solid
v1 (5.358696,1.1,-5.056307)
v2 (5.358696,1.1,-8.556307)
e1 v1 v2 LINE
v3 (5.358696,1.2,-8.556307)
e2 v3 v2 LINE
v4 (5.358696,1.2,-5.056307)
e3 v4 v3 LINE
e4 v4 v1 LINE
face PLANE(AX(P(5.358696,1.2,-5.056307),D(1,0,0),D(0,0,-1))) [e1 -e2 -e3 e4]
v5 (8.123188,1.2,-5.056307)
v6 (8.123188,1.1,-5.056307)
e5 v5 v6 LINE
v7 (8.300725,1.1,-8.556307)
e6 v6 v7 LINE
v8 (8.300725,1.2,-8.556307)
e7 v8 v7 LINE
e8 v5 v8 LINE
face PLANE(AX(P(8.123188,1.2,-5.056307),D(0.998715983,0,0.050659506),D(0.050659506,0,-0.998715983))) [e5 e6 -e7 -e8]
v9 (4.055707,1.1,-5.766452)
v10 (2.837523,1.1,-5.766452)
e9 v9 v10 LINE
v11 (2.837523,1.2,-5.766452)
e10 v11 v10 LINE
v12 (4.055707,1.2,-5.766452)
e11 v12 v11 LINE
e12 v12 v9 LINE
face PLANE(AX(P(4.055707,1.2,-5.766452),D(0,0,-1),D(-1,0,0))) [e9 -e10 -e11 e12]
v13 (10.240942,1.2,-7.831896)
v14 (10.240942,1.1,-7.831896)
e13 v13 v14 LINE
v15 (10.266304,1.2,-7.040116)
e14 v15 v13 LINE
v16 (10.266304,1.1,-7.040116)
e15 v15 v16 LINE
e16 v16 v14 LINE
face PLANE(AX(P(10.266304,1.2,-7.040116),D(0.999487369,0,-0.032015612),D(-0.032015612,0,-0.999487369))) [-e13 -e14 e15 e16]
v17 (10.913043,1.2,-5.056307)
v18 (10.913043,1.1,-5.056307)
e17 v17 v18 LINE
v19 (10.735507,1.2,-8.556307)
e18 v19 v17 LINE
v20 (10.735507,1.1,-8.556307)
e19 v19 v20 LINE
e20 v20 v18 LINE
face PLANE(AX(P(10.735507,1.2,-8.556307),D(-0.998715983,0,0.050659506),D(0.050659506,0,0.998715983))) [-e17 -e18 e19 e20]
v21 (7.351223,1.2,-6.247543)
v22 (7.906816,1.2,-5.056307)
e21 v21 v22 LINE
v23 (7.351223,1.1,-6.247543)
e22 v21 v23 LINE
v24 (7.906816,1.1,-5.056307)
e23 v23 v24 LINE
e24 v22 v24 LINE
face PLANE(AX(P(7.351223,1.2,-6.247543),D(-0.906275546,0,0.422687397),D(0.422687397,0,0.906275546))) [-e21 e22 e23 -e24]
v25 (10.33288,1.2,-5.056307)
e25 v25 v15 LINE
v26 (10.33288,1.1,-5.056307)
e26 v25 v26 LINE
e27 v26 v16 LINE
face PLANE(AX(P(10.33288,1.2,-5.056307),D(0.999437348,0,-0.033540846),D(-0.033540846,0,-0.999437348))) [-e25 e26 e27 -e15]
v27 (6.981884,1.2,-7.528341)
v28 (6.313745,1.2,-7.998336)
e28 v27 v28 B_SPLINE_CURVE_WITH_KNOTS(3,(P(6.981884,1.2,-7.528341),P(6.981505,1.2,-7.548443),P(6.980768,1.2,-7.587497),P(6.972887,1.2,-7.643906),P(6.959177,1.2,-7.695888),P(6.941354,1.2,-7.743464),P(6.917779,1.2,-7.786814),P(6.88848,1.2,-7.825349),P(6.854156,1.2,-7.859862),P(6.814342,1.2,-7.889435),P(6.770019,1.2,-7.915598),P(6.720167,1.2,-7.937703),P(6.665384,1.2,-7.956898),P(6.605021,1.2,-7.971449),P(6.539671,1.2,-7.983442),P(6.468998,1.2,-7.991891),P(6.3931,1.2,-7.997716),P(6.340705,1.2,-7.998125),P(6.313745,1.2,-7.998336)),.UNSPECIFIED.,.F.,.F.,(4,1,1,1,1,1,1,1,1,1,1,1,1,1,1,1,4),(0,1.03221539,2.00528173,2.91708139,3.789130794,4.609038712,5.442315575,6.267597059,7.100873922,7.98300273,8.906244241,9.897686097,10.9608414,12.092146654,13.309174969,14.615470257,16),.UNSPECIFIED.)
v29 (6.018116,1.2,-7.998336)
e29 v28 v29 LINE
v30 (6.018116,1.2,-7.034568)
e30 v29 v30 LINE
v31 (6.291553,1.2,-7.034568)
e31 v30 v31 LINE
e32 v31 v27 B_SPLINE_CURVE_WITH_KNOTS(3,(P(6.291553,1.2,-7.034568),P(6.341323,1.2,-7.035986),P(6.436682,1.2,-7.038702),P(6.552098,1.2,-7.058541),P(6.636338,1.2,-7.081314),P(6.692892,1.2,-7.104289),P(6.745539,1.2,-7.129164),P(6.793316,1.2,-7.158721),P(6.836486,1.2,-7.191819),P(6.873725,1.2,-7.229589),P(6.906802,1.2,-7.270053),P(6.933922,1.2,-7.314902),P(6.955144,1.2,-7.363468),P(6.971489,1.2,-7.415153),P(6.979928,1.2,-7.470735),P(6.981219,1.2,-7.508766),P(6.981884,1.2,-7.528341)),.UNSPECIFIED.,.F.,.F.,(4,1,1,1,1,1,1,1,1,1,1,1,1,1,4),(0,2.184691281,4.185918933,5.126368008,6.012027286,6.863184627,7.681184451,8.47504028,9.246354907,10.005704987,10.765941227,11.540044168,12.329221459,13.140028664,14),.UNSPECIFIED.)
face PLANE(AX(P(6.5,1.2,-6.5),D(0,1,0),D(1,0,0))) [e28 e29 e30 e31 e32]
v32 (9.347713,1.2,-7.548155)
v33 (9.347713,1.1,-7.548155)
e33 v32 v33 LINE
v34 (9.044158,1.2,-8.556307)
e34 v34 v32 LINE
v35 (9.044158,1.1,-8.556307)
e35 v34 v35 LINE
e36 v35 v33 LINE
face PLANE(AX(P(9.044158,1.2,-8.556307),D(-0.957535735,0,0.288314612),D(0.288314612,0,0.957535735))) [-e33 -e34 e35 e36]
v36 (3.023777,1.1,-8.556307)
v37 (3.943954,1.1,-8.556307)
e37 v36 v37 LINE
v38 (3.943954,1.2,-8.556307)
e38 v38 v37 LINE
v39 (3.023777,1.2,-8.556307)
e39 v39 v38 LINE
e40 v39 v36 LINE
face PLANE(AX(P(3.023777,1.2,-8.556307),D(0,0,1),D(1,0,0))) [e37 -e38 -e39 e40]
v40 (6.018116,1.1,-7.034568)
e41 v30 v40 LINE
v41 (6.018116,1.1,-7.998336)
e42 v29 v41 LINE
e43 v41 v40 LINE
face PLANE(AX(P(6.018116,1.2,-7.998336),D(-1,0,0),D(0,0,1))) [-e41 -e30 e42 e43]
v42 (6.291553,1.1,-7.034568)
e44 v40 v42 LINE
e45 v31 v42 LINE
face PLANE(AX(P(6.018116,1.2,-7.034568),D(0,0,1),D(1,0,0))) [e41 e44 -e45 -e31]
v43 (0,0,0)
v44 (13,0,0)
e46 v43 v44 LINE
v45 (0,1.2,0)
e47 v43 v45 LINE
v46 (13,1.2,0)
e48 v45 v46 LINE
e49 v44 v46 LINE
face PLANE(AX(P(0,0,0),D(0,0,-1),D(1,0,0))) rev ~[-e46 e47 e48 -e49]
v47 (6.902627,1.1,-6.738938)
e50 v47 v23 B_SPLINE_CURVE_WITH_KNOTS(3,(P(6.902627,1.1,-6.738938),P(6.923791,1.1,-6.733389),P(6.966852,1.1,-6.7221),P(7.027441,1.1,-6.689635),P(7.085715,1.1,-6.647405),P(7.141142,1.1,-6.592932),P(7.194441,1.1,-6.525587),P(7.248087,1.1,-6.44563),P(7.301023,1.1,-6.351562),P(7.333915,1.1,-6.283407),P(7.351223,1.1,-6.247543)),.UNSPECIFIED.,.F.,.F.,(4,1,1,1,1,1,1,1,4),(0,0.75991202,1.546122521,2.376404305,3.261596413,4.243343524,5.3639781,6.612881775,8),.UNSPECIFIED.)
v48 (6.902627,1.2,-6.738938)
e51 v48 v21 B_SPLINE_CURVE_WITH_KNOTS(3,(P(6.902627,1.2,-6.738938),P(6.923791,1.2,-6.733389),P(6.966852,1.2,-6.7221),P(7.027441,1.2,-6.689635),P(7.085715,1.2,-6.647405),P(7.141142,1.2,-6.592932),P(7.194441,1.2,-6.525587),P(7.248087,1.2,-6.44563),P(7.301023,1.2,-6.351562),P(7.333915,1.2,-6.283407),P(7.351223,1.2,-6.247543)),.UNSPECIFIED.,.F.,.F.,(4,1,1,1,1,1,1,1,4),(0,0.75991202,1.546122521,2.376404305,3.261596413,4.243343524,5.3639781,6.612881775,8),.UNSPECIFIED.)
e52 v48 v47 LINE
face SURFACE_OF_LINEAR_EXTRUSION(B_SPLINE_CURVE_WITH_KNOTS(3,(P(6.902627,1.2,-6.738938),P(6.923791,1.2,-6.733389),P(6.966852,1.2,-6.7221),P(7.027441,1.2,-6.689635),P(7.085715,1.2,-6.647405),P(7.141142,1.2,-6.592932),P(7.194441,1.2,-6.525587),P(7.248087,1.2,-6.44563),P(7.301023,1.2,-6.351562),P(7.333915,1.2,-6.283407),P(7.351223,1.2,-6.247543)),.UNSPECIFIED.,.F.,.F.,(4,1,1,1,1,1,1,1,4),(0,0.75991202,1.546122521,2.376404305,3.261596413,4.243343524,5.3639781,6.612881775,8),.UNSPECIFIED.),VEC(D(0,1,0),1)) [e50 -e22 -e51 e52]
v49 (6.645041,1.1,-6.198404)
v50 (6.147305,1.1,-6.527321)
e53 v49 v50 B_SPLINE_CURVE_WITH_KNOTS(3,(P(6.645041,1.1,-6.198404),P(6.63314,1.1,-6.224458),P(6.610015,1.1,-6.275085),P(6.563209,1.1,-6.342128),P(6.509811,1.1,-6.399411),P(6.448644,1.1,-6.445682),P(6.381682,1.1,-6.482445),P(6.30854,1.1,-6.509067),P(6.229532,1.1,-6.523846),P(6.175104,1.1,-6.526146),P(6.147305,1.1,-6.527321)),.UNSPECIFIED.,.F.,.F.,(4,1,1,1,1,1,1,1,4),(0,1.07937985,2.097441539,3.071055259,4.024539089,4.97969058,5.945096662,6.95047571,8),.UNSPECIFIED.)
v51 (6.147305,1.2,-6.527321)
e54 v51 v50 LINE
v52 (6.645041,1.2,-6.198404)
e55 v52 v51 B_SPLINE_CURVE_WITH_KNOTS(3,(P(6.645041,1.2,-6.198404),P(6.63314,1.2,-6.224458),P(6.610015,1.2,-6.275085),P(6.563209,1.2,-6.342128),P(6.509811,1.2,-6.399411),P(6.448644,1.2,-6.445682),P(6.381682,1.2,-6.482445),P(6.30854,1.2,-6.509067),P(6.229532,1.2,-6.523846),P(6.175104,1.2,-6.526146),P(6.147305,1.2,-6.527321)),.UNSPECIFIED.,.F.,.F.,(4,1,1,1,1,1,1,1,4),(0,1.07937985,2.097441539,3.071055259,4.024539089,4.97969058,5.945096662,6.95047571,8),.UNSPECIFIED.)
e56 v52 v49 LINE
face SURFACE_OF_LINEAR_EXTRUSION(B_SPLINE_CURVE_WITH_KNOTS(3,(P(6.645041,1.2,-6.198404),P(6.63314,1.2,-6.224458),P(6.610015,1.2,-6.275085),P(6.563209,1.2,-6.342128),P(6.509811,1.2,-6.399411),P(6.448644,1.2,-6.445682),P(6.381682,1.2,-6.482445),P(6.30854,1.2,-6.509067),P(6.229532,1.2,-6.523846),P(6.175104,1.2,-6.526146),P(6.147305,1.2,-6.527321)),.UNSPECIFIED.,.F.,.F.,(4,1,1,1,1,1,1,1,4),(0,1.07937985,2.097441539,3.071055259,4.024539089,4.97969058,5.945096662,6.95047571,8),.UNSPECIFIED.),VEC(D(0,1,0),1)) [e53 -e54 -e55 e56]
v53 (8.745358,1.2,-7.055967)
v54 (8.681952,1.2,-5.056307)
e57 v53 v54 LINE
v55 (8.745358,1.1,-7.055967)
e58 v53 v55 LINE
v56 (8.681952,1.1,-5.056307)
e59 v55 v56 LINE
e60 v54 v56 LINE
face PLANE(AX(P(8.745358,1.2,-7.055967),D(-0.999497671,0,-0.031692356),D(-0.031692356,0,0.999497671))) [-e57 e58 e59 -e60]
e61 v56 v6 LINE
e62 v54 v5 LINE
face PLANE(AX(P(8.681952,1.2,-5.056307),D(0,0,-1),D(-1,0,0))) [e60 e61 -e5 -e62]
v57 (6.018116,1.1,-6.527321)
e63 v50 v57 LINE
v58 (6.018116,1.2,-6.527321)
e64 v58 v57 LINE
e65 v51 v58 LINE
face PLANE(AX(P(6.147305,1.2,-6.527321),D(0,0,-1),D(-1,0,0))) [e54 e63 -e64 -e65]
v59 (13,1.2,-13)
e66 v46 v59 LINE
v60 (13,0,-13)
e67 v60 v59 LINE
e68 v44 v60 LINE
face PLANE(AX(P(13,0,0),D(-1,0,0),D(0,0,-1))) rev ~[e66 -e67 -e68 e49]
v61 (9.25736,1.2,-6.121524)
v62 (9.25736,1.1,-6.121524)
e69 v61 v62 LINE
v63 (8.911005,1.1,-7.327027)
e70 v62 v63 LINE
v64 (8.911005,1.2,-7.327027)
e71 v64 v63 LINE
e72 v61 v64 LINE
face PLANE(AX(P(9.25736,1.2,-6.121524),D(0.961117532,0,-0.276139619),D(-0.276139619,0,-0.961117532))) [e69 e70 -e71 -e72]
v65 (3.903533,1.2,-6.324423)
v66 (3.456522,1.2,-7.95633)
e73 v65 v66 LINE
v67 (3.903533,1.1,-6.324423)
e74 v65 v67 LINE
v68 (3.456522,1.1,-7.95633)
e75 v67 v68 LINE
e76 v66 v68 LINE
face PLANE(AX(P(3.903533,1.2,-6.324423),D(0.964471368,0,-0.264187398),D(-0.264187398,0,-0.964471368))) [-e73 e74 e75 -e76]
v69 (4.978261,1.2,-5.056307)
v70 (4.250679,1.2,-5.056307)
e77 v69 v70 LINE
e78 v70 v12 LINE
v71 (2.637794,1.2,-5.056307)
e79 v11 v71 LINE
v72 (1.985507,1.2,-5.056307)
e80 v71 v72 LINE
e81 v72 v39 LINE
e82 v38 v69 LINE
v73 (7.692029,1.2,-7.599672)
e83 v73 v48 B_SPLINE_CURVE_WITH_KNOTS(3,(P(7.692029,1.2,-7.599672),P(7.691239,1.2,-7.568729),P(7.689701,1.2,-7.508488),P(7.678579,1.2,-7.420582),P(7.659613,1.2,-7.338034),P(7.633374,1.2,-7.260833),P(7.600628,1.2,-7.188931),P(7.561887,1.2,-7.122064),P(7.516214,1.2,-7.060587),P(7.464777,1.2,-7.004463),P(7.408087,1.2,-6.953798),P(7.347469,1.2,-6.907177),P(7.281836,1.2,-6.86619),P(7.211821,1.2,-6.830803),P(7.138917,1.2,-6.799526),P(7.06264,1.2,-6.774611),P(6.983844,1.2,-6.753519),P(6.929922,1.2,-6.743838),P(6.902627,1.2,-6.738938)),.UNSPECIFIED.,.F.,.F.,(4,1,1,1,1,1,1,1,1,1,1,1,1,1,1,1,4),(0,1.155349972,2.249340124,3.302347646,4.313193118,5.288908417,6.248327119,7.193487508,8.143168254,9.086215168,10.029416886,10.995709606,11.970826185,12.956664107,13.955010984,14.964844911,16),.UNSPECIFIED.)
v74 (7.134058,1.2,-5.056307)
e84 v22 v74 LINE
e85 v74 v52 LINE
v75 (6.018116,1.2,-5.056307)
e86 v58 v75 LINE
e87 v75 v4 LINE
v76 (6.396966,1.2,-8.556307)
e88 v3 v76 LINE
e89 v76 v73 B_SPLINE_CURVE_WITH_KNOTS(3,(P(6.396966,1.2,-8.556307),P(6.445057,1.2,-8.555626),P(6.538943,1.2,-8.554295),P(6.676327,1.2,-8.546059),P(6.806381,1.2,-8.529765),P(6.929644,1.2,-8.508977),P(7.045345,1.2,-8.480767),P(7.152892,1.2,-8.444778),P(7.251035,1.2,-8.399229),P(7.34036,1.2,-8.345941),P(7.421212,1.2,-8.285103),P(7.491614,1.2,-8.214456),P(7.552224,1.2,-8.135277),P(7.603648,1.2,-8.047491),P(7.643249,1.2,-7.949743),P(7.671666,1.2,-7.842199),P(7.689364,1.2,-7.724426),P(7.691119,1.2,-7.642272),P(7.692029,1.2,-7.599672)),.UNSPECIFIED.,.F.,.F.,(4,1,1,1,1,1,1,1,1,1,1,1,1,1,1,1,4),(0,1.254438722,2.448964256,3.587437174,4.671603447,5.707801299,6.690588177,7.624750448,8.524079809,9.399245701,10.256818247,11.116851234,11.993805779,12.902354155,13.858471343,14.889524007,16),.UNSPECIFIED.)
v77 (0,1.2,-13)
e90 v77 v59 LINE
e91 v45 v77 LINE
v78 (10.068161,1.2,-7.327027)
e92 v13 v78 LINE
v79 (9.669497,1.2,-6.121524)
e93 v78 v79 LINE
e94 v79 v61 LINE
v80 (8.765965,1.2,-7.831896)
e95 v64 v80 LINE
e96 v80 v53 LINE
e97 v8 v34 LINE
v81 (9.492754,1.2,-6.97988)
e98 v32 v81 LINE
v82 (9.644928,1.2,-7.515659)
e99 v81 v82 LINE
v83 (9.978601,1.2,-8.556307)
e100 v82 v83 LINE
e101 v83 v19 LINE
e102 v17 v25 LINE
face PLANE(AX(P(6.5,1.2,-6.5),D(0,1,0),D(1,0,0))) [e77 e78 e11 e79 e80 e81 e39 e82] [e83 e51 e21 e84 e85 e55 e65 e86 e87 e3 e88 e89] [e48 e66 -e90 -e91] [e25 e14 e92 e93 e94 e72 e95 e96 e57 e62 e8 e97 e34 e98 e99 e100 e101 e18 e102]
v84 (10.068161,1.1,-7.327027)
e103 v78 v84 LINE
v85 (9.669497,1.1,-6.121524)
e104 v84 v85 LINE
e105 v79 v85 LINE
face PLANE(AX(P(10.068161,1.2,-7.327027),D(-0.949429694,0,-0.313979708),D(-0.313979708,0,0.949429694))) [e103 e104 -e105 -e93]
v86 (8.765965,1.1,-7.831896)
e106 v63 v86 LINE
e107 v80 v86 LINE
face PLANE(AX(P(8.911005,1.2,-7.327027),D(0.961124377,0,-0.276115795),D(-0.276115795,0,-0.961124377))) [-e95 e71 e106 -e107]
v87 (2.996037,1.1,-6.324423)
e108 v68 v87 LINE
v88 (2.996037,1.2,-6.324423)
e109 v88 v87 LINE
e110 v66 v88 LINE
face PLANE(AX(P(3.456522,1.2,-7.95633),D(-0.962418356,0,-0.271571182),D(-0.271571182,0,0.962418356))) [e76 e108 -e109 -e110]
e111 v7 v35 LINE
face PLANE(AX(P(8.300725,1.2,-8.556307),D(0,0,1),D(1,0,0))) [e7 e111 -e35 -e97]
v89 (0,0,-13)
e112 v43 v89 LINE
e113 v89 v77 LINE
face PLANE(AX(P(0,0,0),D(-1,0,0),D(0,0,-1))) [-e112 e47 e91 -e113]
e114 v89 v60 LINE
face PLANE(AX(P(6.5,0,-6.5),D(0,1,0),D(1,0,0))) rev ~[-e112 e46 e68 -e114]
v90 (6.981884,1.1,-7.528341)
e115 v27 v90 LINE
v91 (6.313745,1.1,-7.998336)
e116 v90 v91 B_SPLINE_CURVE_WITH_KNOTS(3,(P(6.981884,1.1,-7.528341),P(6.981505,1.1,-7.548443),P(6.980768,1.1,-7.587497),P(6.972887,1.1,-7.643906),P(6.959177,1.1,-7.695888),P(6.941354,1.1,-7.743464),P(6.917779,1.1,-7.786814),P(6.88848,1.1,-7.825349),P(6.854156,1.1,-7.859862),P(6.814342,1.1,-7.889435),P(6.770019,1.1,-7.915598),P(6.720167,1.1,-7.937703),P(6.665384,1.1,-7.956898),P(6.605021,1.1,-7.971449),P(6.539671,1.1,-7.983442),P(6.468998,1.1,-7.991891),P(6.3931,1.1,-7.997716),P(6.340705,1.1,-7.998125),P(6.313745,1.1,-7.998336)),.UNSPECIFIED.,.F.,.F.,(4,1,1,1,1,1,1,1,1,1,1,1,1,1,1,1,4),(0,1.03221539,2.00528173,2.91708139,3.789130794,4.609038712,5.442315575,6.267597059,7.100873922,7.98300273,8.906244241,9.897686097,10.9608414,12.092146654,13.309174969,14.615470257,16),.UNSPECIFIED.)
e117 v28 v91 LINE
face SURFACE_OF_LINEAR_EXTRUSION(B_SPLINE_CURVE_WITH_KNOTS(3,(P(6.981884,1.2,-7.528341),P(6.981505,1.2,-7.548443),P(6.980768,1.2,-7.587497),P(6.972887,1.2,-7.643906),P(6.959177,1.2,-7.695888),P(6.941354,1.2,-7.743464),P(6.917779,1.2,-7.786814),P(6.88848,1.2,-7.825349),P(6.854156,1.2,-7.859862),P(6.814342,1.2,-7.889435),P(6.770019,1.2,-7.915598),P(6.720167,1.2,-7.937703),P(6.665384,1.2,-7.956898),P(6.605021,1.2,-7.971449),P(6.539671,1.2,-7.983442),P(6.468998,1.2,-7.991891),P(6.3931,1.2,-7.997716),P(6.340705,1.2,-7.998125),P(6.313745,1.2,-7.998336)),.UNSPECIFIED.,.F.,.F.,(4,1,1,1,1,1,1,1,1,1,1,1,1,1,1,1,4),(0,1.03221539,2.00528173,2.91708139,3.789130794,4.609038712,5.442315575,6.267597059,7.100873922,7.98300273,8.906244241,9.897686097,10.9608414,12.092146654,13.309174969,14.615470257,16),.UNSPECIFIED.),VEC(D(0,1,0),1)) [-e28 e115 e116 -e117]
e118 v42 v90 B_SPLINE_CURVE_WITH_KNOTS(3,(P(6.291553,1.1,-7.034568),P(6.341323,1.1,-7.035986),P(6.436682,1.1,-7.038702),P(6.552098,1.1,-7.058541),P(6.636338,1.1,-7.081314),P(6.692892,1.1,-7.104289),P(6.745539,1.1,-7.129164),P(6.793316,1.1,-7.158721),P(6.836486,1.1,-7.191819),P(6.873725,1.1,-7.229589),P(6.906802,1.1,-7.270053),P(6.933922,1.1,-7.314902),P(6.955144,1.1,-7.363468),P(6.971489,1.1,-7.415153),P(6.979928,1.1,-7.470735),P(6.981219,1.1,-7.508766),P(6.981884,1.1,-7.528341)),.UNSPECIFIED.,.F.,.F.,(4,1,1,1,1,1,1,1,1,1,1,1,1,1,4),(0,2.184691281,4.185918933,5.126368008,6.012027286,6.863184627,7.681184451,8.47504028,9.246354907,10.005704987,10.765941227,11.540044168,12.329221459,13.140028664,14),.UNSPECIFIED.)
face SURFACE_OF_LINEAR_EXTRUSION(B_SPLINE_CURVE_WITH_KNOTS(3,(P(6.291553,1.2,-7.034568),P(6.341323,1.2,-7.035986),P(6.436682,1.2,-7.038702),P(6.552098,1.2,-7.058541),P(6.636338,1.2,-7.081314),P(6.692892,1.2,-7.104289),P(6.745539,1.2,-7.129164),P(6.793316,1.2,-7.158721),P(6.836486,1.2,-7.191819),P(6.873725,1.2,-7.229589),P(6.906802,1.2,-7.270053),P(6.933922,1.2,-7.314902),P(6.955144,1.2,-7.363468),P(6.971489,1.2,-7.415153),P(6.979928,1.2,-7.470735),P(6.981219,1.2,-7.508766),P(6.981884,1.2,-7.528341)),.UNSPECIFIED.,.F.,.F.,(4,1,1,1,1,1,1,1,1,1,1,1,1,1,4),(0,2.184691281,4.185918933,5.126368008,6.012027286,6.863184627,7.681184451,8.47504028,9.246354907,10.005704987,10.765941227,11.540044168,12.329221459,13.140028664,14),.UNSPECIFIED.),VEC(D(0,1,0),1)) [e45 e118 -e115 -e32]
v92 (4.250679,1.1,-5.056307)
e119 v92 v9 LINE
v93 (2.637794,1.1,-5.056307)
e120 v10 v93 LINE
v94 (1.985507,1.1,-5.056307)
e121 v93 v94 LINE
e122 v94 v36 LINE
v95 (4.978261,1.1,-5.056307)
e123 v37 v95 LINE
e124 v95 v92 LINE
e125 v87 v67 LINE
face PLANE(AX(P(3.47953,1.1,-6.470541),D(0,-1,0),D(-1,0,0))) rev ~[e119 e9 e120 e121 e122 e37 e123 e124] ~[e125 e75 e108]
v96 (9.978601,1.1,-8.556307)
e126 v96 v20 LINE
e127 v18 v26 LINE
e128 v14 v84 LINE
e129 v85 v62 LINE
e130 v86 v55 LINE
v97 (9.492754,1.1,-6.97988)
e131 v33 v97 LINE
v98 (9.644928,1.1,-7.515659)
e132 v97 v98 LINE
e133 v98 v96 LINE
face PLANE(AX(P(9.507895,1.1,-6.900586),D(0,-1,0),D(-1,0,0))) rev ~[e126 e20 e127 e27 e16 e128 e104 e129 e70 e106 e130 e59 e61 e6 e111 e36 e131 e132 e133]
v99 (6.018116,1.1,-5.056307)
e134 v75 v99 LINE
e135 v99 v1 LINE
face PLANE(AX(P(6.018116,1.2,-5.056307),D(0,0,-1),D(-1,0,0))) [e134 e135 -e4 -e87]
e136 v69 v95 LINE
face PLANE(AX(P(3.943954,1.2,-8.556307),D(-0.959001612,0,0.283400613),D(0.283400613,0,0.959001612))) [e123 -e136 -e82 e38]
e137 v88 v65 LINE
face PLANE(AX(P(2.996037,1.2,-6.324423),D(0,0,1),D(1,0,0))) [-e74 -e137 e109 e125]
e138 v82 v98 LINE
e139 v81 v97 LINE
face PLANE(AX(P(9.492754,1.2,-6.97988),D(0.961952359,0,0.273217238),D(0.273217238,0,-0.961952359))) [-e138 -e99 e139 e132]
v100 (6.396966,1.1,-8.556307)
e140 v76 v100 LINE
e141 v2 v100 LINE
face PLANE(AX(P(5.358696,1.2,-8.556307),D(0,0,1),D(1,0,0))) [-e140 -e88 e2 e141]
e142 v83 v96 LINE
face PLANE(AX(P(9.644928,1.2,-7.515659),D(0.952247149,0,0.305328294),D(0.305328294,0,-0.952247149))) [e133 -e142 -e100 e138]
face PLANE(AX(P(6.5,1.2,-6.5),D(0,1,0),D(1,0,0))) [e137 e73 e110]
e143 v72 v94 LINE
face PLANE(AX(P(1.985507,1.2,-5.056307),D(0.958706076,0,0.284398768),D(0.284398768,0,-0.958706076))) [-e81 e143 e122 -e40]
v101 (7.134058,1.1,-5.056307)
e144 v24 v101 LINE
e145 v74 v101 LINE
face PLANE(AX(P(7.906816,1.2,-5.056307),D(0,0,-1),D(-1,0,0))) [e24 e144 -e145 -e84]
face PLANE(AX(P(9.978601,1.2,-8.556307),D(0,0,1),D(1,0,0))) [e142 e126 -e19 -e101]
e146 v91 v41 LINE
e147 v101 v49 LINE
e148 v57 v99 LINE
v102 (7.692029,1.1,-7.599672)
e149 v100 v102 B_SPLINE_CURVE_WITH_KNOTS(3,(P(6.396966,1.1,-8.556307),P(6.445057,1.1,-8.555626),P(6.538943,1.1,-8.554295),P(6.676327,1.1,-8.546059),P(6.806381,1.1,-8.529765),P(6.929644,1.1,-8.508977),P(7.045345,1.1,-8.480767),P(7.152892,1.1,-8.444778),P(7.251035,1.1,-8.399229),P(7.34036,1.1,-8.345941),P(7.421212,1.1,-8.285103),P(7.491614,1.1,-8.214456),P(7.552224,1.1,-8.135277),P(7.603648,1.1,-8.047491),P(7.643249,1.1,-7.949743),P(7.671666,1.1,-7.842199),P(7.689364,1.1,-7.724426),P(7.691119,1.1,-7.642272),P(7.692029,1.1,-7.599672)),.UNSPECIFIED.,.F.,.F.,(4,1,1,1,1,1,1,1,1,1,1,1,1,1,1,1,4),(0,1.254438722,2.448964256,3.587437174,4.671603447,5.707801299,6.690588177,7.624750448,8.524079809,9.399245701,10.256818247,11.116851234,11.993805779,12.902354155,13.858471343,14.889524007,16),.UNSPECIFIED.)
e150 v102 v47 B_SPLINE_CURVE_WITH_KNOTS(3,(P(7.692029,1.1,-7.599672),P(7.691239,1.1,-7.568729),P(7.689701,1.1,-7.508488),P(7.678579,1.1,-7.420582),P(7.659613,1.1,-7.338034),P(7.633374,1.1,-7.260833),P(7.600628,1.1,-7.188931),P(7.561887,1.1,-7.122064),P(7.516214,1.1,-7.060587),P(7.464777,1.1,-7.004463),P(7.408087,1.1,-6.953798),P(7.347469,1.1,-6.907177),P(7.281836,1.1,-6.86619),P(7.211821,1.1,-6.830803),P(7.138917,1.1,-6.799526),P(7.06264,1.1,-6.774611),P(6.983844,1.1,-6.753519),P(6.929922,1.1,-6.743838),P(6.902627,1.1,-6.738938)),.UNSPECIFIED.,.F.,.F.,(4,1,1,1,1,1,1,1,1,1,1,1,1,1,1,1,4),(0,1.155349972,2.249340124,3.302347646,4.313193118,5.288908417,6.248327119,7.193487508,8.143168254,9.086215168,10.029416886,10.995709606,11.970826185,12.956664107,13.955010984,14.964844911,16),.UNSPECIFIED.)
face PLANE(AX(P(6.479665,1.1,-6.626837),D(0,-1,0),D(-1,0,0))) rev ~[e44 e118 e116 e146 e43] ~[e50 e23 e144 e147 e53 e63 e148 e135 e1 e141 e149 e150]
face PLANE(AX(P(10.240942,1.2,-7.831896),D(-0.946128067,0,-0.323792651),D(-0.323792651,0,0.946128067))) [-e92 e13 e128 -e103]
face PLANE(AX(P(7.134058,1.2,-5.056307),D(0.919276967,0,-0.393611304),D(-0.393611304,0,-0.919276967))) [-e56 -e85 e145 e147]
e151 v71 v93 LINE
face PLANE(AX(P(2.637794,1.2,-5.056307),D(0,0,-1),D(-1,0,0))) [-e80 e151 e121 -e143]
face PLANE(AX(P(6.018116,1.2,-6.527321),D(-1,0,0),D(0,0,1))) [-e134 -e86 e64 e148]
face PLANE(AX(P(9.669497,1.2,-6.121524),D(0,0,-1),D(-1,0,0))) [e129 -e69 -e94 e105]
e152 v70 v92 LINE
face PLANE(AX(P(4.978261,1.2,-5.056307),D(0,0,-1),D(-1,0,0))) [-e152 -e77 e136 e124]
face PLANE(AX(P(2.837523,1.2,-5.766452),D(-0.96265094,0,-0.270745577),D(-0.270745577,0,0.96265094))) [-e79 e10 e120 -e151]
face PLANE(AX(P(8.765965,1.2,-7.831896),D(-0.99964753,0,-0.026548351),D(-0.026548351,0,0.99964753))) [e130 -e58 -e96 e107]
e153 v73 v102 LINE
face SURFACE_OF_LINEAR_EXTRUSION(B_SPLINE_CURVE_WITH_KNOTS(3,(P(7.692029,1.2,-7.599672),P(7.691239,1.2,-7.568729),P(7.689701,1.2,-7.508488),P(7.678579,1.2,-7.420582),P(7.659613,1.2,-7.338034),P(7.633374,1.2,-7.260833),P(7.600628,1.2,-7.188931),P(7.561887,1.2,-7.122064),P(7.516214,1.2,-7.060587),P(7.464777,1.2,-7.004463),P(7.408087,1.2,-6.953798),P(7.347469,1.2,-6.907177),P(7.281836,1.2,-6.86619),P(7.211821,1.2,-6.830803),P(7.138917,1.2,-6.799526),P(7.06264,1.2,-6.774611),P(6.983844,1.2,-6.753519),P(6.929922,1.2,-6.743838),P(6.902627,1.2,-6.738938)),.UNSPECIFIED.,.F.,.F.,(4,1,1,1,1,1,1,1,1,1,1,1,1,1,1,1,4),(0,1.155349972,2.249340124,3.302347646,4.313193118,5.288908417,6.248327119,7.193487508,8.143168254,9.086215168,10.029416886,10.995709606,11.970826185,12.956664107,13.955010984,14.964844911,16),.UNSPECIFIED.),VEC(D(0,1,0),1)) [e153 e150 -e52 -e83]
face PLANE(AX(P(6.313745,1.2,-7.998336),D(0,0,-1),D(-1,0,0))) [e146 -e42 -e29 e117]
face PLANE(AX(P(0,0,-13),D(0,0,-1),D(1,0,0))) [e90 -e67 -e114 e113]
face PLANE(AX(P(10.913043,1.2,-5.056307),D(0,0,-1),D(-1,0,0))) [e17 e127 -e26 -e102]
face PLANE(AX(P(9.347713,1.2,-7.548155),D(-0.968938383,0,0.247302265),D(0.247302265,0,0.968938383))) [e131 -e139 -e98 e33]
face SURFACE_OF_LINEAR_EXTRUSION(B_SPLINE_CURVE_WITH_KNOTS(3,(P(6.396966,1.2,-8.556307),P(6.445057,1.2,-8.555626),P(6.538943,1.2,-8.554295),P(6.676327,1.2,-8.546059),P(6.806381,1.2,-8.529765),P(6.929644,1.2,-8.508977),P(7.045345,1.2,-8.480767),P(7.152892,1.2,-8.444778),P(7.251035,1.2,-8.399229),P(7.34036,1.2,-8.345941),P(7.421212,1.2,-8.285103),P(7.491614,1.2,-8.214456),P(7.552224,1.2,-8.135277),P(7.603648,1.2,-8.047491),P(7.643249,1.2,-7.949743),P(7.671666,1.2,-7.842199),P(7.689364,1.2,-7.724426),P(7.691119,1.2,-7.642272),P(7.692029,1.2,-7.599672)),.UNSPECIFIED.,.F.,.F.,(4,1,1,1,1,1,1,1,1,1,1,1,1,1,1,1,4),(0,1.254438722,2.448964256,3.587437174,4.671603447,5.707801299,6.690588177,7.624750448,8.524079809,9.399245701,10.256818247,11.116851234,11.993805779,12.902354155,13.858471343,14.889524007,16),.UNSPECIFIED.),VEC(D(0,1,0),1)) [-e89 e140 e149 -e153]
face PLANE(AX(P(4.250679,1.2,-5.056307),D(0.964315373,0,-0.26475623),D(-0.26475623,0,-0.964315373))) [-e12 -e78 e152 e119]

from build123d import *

# Parameters (mm, degrees)
SKETCH_1_W          = 13
SKETCH_1_H          = 13
EXTRUDE_1_DEPTH     = 1.2
CUT_EXTRUDE_1_DEPTH = 0.1


with BuildPart() as part:
    # 스케치1 → 보스-돌출1 (new body)
    with BuildSketch(Plane(origin=(0, 0, 0), x_dir=(1, 0, 0), z_dir=(0, 1, 0))):
        with Locations((6.5, 6.5)):
            Rectangle(SKETCH_1_W, SKETCH_1_H)
    extrude(amount=EXTRUDE_1_DEPTH)

    # 스케치2 → 컷-돌출1 (cut)
    # profile 1 of 3: a face of its own
    with BuildSketch(Plane(origin=(0, 1.2, 0), x_dir=(1, 0, 0), z_dir=(0, 1, 0))):
        Polygon((4.250679348, 5.056307), (4.055706522, 5.766451927), (2.837522645, 5.766451927), (2.637794384, 5.056307), (1.985507246, 5.056307), (3.023777174, 8.556307), (3.943953804, 8.556307), (4.97826087, 5.056307), align=None)
        Polygon((3.456521739, 7.956329645), (2.996037138, 6.324422942), (3.903532609, 6.324422942), align=None, mode=Mode.SUBTRACT)
    # profile 2 of 3: a face of its own
    with BuildSketch(Plane(origin=(0, 1.2, 0), x_dir=(1, 0, 0), z_dir=(0, 1, 0))):
        with BuildLine():
            Line((7.134057971, 5.056307), (6.645040761, 6.19840392))
            add(Edge.make_bspline(
                [(6.645040761, 6.19840392), (6.633140099, 6.224457557), (6.610014837, 6.275084758), (6.563209444, 6.342128185), (6.509811234, 6.399411177), (6.448644022, 6.445682133), (6.381682405, 6.482444974), (6.308539756, 6.509067271), (6.229531944, 6.523845527), (6.175103907, 6.526146361), (6.147305254, 6.527321493)],
                knots=[0, 0, 0, 0, 1.07937985, 2.097441539, 3.071055259, 4.024539089, 4.97969058, 5.945096662, 6.95047571, 8, 8, 8, 8], degree=3))
            Line((6.147305254, 6.527321493), (6.018115942, 6.527321493))
            Line((6.018115942, 6.527321493), (6.018115942, 5.056307))
            Line((6.018115942, 5.056307), (5.358695652, 5.056307))
            Line((5.358695652, 5.056307), (5.358695652, 8.556307))
            Line((5.358695652, 8.556307), (6.39696558, 8.556307))
            add(Edge.make_bspline(
                [(6.39696558, 8.556307), (6.44505717, 8.555625641), (6.538943451, 8.554295466), (6.676327112, 8.546059268), (6.806380562, 8.529765303), (6.929644175, 8.508976612), (7.045344555, 8.480766902), (7.152892252, 8.444777918), (7.251035462, 8.399228962), (7.340359594, 8.345941352), (7.421212147, 8.285103341), (7.491613585, 8.214455993), (7.552224164, 8.135276977), (7.603648187, 8.047491351), (7.643248856, 7.949743303), (7.671665885, 7.842199248), (7.689364198, 7.72442637), (7.691119029, 7.642272434), (7.692028986, 7.599672036)],
                knots=[0, 0, 0, 0, 1.254438722, 2.448964256, 3.587437174, 4.671603447, 5.707801299, 6.690588177, 7.624750448, 8.524079809, 9.399245701, 10.256818247, 11.116851234, 11.993805779, 12.902354155, 13.858471343, 14.889524007, 16, 16, 16, 16], degree=3))
            add(Edge.make_bspline(
                [(7.692028986, 7.599672036), (7.691239008, 7.568729477), (7.689701007, 7.508487697), (7.67857865, 7.420582401), (7.659612629, 7.33803397), (7.633373986, 7.26083316), (7.600627828, 7.188931064), (7.561886691, 7.122064044), (7.516214192, 7.06058734), (7.464777001, 7.004463206), (7.408086514, 6.95379773), (7.347469348, 6.907176769), (7.281836186, 6.866190289), (7.211821483, 6.830802554), (7.13891719, 6.799526164), (7.062639527, 6.774610517), (6.983843926, 6.753518878), (6.929921739, 6.743838474), (6.902626812, 6.73893834)],
                knots=[0, 0, 0, 0, 1.155349972, 2.249340124, 3.302347646, 4.313193118, 5.288908417, 6.248327119, 7.193487508, 8.143168254, 9.086215168, 10.029416886, 10.995709606, 11.970826185, 12.956664107, 13.955010984, 14.964844911, 16, 16, 16, 16], degree=3))
            add(Edge.make_bspline(
                [(6.902626812, 6.73893834), (6.923791025, 6.733389456), (6.966851888, 6.722099656), (7.027441412, 6.689635303), (7.085715125, 6.647405354), (7.141142197, 6.592932019), (7.194441134, 6.525586953), (7.248087068, 6.445630446), (7.301022677, 6.351561616), (7.333914569, 6.283407325), (7.351222826, 6.247543413)],
                knots=[0, 0, 0, 0, 0.75991202, 1.546122521, 2.376404305, 3.261596413, 4.243343524, 5.3639781, 6.612881775, 8, 8, 8, 8], degree=3))
            Line((7.351222826, 6.247543413), (7.906816123, 5.056307))
            Line((7.906816123, 5.056307), (7.134057971, 5.056307))
        make_face()
        with BuildLine():
            add(Edge.make_bspline(
                [(6.981884058, 7.528340514), (6.981504962, 7.548443488), (6.980768494, 7.587497473), (6.97288702, 7.643906223), (6.959177112, 7.695888053), (6.941354104, 7.743464314), (6.917779005, 7.786814444), (6.888480303, 7.825348904), (6.85415561, 7.859861657), (6.814341891, 7.8894352), (6.770019497, 7.915597864), (6.720166621, 7.937703476), (6.665384141, 7.956898026), (6.605021149, 7.971449032), (6.539670856, 7.983441688), (6.468997822, 7.991891457), (6.393100108, 7.99771625), (6.340704806, 7.998125441), (6.313745471, 7.998335985)],
                knots=[0, 0, 0, 0, 1.03221539, 2.00528173, 2.91708139, 3.789130794, 4.609038712, 5.442315575, 6.267597059, 7.100873922, 7.98300273, 8.906244241, 9.897686097, 10.9608414, 12.092146654, 13.309174969, 14.615470257, 16, 16, 16, 16], degree=3))
            Line((6.313745471, 7.998335985), (6.018115942, 7.998335985))
            Line((6.018115942, 7.998335985), (6.018115942, 7.034567869))
            Line((6.018115942, 7.034567869), (6.291553442, 7.034567869))
            add(Edge.make_bspline(
                [(6.291553442, 7.034567869), (6.341322659, 7.035985514), (6.436681628, 7.038701754), (6.552097974, 7.058540895), (6.636338433, 7.08131439), (6.692892375, 7.104289198), (6.74553881, 7.129163549), (6.793316435, 7.158720954), (6.836485578, 7.191818863), (6.873724603, 7.229589267), (6.906802207, 7.270052793), (6.933921834, 7.314901578), (6.95514363, 7.363467605), (6.97148897, 7.415152604), (6.979928216, 7.47073524), (6.981219446, 7.508765729), (6.981884058, 7.528340514)],
                knots=[0, 0, 0, 0, 2.184691281, 4.185918933, 5.126368008, 6.012027286, 6.863184627, 7.681184451, 8.47504028, 9.246354907, 10.005704987, 10.765941227, 11.540044168, 12.329221459, 13.140028664, 14, 14, 14, 14], degree=3))
        make_face(mode=Mode.SUBTRACT)
    # profile 3 of 3: a face of its own
    with BuildSketch(Plane(origin=(0, 1.2, 0), x_dir=(1, 0, 0), z_dir=(0, 1, 0))):
        Polygon((10.332880435, 5.056307), (10.266304348, 7.040115877), (10.240942029, 7.831895768), (10.068161232, 7.327027109), (9.669497283, 6.121524391), (9.257359601, 6.121524391), (8.911005435, 7.327027109), (8.765964674, 7.831895768), (8.74535779, 7.055967326), (8.681951993, 5.056307), (8.123188406, 5.056307), (8.300724638, 8.556307), (9.044157609, 8.556307), (9.347712862, 7.548154826), (9.492753623, 6.979880369), (9.644927536, 7.515659355), (9.978600543, 8.556307), (10.735507246, 8.556307), (10.913043478, 5.056307), align=None)
    extrude(amount=-CUT_EXTRUDE_1_DEPTH, mode=Mode.SUBTRACT)


solid = part.part
